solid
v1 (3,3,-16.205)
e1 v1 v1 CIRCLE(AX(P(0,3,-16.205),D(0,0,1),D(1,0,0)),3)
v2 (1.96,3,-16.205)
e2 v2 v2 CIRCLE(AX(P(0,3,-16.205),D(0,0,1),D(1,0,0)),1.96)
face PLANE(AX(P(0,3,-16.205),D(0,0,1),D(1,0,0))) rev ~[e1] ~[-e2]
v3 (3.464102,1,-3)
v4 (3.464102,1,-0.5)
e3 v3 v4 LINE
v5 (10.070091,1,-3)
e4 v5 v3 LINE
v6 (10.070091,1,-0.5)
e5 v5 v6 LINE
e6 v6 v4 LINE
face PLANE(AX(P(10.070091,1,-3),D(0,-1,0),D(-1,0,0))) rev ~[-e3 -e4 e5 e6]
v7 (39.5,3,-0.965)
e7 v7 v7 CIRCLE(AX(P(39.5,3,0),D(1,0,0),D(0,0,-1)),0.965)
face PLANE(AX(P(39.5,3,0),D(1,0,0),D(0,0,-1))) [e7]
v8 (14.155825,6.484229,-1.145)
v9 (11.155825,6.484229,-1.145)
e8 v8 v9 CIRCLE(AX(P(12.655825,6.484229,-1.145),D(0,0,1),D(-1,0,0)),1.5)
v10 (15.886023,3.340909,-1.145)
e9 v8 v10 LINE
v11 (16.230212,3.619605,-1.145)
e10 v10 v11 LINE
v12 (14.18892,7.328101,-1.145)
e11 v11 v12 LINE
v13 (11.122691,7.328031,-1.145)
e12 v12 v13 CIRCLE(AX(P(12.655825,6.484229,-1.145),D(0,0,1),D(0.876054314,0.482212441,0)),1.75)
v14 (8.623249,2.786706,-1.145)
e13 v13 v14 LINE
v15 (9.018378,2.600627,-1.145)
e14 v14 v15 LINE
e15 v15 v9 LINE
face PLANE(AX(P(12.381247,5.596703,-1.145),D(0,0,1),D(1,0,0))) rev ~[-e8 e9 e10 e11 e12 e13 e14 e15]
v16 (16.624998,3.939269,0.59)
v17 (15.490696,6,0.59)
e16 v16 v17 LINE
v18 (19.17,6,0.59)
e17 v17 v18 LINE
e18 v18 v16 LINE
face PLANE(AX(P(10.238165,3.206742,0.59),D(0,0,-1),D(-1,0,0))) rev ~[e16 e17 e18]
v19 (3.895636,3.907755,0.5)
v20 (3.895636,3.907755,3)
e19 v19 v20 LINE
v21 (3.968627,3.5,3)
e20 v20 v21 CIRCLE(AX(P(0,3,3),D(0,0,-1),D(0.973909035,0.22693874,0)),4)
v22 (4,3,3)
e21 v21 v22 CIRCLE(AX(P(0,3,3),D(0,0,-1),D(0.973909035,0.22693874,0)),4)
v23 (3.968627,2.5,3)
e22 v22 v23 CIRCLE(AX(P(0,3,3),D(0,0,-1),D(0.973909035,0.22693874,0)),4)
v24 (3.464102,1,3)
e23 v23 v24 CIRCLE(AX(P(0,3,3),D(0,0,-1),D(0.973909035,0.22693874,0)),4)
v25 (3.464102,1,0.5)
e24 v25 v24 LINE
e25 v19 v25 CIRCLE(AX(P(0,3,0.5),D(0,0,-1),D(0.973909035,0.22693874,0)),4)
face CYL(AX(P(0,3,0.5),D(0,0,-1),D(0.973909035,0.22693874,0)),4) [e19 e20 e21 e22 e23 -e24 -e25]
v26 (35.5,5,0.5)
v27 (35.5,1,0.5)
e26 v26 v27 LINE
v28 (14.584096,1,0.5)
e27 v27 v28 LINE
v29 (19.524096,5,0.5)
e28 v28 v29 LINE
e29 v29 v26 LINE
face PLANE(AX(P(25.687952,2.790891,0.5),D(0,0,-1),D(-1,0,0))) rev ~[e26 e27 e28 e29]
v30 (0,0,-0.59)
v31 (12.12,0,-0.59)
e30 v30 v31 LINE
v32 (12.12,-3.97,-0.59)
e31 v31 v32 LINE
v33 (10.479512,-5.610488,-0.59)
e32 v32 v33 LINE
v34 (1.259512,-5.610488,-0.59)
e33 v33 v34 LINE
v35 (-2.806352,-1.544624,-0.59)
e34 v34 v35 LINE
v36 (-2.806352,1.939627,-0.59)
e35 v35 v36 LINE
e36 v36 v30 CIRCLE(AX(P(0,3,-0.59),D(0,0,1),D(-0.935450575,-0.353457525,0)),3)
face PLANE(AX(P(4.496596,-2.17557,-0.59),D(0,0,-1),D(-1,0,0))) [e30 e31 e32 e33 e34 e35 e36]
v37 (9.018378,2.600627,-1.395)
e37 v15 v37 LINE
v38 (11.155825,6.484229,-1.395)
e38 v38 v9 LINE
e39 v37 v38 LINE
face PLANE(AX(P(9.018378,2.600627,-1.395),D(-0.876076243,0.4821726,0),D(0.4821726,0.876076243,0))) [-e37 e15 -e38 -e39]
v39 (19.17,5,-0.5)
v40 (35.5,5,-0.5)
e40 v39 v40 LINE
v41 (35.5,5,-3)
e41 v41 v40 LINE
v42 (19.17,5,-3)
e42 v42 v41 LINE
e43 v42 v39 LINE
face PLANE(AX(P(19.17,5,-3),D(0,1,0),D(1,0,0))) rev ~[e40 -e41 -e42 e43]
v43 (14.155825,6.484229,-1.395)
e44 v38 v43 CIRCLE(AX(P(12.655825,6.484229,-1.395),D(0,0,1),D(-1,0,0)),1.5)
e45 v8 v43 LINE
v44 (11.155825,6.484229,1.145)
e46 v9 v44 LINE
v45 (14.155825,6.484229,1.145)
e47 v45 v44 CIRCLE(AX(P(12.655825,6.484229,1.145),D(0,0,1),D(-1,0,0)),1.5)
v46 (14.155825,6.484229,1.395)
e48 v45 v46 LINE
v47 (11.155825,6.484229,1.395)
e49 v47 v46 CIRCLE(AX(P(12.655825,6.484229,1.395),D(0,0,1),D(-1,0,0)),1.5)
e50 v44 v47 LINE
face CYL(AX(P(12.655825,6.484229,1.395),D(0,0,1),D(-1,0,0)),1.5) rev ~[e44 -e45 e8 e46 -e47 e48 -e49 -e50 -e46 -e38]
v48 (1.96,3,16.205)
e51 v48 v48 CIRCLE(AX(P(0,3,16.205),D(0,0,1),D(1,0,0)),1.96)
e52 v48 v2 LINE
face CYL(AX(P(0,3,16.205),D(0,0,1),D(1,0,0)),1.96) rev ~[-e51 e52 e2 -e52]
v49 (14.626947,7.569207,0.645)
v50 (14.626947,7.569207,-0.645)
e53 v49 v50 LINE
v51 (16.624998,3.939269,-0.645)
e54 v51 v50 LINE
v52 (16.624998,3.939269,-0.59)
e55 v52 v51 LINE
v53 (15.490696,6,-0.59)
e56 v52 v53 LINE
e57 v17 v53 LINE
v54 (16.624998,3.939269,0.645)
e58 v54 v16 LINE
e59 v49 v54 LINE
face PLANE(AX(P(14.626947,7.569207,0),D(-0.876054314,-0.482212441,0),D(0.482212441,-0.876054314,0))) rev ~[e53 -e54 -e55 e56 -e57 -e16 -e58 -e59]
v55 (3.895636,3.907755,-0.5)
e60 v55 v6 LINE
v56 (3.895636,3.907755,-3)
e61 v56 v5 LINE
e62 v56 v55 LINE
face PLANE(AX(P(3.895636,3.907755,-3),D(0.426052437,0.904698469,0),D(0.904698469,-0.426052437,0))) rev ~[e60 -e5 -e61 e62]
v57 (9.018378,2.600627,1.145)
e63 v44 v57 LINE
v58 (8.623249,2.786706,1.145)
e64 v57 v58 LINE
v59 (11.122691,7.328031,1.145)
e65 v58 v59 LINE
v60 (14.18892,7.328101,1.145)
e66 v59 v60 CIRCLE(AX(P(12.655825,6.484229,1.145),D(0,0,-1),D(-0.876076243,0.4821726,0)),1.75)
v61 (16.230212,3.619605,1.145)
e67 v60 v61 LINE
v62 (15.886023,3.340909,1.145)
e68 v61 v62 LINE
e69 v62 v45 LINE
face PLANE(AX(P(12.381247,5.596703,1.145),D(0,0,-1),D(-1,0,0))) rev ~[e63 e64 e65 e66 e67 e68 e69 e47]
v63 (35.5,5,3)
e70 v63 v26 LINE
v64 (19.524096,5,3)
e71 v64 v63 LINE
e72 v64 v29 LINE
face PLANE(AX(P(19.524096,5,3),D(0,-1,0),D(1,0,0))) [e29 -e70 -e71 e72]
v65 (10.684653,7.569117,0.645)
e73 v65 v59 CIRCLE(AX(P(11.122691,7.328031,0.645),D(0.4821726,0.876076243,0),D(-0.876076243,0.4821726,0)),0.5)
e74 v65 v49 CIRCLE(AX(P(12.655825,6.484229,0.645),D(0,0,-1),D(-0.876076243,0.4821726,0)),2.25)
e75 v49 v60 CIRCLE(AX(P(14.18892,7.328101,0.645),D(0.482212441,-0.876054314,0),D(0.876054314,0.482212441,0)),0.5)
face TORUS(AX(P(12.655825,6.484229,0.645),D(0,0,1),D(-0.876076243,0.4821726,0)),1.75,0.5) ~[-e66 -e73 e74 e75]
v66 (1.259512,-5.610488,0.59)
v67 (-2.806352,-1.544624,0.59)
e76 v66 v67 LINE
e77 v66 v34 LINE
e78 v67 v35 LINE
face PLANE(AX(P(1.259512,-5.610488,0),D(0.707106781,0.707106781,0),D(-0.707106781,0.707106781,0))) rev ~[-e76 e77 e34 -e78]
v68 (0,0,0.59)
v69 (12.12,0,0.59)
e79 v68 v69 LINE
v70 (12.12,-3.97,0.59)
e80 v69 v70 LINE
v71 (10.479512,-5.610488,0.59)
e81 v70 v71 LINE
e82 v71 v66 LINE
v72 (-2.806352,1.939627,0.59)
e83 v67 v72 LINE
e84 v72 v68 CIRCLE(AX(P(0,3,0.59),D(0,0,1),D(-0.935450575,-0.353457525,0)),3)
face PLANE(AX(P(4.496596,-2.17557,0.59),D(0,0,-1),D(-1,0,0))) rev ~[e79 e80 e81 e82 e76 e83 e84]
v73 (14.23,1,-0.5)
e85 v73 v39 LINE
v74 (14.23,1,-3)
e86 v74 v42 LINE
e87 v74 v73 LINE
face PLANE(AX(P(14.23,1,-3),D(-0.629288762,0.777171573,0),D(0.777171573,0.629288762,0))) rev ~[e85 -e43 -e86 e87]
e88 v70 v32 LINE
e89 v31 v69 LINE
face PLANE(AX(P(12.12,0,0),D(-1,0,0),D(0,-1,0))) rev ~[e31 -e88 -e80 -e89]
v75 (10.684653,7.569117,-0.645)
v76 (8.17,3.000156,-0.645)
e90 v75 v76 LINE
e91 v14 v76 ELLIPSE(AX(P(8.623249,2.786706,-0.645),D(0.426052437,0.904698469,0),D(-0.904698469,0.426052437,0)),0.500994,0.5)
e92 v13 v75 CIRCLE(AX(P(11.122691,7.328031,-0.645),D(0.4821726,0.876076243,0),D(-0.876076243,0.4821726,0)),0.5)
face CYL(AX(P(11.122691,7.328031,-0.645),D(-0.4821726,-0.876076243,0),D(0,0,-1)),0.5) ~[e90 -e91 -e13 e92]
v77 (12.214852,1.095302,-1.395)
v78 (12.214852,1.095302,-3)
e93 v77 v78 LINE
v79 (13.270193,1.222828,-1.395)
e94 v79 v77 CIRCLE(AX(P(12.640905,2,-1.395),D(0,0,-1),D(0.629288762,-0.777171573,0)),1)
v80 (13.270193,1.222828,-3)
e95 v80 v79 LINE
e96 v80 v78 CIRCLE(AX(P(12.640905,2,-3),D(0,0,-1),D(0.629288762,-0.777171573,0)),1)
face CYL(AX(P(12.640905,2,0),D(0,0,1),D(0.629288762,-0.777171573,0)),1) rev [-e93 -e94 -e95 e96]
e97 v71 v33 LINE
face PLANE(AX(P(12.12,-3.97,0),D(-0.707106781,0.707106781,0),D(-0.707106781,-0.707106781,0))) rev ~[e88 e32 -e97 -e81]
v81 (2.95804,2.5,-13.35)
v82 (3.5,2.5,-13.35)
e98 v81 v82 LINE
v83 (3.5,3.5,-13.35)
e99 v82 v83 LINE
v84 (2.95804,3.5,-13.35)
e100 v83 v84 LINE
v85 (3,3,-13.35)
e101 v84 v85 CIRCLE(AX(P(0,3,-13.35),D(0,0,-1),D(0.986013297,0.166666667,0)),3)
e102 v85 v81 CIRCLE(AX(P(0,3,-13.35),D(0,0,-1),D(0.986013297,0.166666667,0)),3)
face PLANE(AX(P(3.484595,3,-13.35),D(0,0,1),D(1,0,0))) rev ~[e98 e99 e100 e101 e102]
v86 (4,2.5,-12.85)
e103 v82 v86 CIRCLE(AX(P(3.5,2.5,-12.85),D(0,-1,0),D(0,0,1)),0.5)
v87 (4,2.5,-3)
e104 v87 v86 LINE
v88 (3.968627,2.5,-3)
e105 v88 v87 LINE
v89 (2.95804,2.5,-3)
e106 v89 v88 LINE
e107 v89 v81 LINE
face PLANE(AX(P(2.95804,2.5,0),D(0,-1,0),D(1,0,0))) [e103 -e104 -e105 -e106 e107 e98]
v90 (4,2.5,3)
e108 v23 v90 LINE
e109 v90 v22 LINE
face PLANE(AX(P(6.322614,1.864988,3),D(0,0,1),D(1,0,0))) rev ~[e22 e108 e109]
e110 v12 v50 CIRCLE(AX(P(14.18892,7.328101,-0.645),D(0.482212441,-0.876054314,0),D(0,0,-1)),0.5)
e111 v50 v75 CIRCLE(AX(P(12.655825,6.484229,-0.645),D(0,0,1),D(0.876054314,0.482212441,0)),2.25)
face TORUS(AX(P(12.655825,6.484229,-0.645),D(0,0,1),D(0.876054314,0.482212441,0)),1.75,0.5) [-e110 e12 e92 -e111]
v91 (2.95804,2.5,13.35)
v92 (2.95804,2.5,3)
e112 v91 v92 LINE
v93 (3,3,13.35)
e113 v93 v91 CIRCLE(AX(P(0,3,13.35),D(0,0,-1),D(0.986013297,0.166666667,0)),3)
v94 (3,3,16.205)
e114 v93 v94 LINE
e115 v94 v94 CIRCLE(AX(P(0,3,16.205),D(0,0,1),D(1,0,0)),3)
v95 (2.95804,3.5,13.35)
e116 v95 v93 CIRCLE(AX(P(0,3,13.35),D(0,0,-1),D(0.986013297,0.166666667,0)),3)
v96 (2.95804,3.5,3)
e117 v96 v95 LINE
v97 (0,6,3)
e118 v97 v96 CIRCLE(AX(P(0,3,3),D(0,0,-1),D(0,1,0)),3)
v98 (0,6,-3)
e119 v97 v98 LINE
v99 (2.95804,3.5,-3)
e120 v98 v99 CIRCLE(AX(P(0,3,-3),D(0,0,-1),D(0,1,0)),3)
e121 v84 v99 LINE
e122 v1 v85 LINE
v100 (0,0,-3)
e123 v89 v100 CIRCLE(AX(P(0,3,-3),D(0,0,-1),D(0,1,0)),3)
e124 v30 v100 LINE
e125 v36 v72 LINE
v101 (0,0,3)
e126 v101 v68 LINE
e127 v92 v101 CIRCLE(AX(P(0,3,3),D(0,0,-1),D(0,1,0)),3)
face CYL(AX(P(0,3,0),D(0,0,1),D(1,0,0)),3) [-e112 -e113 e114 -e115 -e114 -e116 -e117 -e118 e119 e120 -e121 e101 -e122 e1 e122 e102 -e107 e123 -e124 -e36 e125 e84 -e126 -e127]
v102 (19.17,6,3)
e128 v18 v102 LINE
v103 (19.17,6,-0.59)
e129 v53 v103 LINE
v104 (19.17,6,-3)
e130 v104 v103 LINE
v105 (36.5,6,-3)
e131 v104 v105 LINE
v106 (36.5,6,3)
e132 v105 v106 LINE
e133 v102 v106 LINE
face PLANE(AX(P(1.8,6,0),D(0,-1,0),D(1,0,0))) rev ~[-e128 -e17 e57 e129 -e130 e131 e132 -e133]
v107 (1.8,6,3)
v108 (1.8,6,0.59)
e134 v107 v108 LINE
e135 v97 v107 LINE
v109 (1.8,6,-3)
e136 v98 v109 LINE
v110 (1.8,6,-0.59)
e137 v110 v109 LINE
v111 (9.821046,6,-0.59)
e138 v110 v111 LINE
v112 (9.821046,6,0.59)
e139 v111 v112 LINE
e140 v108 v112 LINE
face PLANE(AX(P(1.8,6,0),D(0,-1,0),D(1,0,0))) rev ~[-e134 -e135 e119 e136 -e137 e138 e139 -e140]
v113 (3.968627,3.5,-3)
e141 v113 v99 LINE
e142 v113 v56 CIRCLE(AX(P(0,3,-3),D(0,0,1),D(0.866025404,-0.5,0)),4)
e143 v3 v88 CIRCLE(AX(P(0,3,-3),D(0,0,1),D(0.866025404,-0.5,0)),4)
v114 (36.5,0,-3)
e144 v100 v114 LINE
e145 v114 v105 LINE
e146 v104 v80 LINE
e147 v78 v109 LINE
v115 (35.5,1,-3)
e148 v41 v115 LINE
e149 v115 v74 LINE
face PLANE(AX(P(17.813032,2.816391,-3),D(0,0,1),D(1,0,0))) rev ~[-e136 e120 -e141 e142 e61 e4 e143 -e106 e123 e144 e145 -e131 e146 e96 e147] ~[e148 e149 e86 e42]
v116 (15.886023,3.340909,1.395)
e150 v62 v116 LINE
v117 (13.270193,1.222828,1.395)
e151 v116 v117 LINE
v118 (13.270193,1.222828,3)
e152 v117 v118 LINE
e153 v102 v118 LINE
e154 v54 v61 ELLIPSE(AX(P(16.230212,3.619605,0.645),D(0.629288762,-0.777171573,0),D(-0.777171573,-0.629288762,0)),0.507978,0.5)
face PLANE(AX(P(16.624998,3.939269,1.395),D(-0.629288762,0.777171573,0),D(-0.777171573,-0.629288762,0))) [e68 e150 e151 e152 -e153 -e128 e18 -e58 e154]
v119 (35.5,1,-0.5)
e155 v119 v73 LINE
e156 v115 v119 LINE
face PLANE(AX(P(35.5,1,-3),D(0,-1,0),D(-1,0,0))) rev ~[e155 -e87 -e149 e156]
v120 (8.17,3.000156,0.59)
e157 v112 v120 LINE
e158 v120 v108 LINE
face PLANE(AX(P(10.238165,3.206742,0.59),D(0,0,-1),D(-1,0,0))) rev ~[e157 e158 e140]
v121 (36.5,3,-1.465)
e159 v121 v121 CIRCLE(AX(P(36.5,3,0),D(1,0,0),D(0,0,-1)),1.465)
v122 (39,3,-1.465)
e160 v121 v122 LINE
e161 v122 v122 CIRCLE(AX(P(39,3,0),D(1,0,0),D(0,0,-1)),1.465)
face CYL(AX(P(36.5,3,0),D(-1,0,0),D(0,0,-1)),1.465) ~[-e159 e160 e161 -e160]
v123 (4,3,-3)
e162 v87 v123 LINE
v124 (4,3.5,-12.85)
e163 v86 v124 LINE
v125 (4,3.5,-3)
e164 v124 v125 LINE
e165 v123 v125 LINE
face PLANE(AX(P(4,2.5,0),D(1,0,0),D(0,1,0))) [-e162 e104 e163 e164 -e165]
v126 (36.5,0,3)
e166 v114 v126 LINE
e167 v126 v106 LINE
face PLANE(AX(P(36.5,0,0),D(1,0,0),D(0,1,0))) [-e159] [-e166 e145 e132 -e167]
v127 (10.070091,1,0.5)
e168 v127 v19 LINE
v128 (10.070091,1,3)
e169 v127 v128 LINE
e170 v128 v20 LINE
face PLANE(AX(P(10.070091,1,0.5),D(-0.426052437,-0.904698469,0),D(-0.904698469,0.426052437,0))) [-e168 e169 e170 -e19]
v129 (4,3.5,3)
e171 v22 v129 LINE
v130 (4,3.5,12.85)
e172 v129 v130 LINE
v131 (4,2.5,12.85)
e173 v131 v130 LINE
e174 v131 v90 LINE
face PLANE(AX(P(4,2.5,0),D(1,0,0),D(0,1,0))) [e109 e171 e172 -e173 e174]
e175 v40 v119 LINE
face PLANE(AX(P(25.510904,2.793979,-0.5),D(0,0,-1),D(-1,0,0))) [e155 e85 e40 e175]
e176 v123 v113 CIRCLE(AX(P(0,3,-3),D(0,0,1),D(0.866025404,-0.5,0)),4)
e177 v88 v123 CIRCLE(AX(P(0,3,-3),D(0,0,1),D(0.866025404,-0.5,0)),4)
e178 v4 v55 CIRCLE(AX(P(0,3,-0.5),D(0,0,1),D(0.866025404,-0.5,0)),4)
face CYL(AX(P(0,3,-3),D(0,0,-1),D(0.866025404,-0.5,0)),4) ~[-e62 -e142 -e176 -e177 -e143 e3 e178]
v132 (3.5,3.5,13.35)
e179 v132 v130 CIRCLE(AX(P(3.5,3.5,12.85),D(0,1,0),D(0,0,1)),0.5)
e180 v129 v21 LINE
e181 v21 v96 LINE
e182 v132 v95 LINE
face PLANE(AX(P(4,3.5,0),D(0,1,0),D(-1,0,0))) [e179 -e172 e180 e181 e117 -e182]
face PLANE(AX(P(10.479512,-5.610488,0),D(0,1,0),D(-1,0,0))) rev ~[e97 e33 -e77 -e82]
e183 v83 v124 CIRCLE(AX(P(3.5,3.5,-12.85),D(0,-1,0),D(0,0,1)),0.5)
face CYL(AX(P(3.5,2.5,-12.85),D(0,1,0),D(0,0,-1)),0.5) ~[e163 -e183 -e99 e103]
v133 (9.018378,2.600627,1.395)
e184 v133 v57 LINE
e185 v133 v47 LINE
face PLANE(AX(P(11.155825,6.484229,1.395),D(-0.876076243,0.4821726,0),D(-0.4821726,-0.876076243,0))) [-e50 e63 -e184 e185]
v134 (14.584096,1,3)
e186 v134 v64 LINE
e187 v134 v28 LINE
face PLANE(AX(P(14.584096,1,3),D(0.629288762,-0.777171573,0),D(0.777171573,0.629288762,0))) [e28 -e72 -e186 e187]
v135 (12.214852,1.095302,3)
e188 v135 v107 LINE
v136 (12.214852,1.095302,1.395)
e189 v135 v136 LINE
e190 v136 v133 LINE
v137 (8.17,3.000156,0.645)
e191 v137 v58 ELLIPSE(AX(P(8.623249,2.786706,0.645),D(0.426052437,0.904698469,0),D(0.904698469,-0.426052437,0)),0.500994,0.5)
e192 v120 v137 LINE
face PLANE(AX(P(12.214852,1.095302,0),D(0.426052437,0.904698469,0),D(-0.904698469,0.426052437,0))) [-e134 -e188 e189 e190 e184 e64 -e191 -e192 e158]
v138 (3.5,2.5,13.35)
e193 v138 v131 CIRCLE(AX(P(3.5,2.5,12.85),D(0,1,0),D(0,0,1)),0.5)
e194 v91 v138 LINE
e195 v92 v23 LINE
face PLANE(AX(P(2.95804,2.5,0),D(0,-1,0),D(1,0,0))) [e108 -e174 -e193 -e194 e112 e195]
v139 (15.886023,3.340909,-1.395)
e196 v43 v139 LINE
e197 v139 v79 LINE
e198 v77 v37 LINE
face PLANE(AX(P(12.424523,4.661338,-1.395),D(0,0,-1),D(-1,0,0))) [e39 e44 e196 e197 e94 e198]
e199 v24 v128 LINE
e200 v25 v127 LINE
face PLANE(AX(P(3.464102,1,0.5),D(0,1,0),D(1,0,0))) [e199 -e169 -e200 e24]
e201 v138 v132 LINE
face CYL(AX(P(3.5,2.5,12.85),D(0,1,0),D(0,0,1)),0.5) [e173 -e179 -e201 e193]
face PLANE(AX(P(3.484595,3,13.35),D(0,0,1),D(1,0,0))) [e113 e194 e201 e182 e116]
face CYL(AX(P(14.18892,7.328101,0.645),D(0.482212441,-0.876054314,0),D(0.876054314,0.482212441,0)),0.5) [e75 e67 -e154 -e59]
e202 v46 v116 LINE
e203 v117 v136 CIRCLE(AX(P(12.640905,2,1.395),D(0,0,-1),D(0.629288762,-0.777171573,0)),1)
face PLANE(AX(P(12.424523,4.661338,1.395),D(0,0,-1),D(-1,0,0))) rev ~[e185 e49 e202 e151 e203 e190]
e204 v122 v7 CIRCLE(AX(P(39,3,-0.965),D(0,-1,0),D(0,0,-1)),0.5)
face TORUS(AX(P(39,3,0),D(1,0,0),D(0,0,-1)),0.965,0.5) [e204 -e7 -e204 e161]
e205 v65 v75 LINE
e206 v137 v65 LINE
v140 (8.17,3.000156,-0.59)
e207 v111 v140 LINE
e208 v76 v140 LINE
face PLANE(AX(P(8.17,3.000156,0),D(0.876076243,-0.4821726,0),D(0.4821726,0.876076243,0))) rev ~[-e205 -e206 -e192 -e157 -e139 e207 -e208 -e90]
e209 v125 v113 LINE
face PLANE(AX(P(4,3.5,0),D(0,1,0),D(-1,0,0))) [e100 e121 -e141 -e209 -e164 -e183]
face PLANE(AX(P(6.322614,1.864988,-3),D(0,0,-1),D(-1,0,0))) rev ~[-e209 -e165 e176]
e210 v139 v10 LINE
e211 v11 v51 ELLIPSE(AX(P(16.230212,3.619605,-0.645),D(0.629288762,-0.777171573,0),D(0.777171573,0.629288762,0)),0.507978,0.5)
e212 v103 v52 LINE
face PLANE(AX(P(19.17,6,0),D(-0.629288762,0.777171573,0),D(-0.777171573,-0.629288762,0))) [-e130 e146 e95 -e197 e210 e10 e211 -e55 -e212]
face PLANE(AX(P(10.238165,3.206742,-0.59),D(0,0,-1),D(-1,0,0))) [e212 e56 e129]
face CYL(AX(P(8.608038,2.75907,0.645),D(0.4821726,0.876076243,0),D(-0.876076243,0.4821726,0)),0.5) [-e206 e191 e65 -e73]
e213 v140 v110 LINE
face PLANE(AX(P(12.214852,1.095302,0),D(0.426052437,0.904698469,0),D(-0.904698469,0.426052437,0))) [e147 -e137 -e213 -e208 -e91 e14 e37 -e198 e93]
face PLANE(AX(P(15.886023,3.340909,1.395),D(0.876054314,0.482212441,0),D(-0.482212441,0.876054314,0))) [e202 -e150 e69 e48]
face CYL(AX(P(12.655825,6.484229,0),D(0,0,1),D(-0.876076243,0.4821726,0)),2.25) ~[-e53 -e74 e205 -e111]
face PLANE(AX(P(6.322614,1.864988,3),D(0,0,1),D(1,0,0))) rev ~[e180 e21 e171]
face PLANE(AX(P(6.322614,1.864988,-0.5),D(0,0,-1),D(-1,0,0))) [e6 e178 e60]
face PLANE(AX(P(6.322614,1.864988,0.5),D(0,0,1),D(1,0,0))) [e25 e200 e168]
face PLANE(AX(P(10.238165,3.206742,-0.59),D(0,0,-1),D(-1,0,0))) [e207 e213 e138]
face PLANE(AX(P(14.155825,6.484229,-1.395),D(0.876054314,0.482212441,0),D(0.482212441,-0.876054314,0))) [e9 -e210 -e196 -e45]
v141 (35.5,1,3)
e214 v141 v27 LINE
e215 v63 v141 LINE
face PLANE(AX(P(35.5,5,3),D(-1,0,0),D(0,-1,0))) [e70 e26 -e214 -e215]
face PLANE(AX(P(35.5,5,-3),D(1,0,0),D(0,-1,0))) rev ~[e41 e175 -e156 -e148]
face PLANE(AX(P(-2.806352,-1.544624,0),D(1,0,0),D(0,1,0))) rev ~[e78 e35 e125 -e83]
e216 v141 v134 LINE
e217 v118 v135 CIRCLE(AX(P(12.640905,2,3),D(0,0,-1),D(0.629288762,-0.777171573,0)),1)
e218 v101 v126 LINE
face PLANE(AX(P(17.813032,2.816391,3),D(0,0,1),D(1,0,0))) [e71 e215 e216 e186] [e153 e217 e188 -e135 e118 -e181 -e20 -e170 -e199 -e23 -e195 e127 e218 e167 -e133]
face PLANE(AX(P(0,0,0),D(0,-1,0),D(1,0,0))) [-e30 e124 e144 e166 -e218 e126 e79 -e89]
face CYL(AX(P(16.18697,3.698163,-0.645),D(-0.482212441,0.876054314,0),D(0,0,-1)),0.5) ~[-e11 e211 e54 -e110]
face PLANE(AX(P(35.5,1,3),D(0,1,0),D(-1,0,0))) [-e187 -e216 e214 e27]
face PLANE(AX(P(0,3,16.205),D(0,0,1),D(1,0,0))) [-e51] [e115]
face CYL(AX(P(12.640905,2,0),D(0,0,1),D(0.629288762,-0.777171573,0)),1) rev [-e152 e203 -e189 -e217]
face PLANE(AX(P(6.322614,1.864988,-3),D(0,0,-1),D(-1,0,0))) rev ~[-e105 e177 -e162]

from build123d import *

# Parameters (mm, degrees)
BOSS_EXTRUDE3_DEPTH  = 3
SKETCH2_R            = 2.9999999999999982
BOSS_EXTRUDE4_DEPTH  = 16.205
SKETCH5_R            = 1.96
CUT_EXTRUDE2_DEPTH   = 32.80000000000002
SKETCH6_R            = 1.465
BOSS_EXTRUDE7_DEPTH  = 3
FILLET1_R            = 0.5
BOSS_EXTRUDE8_DEPTH  = 0.59
BOSS_EXTRUDE9_DEPTH  = 13.35
FILLET7_R            = 0.5
FILLET8_R            = 0.5
BOSS_EXTRUDE10_DEPTH = 3
CUT_EXTRUDE4_DEPTH   = 3
BOSS_EXTRUDE11_DEPTH = 0.59
BOSS_EXTRUDE12_DEPTH = 1.395
CUT_EXTRUDE6_DEPTH   = 20.895000000000014
CUT_EXTRUDE7_DEPTH   = 0.25
CUT_EXTRUDE8_DEPTH   = 0.25
FILLET9_R            = 0.5
FILLET10_R           = 0.5
CUT_EXTRUDE9_DEPTH   = 2.5
CUT_EXTRUDE10_DEPTH  = 2.5
CUT_EXTRUDE12_DEPTH  = 2.5
CUT_EXTRUDE14_START  = -2.5
CUT_EXTRUDE14_DEPTH  = 2.5


with BuildPart() as part:
    # Sketch1 → Boss-Extrude3 (new, symmetric)
    with BuildSketch(Plane.XY):
        with BuildLine():
            ThreePointArc((2.9999999999999982, 2.9999999999999973), (2.1213203435596406, 0.8786796564403563), (-5.5e-16, 0))
            Line((0, 0), (36.5, 0))
            Line((36.5, 0), (36.5, 6))
            Line((36.5, 6), (20.749999999999996, 5.999999999999999))
            ThreePointArc((20.749999999999996, 5.999999999999999), (20.435386233554034, 4.445031090493969), (19.54103584523481, 3.134669493650969))
            ThreePointArc((19.54103584523481, 3.1346694936509705), (17.593985916344508, 2.2872332130112563), (15.573673818645423, 2.9410609450836516))
            Line((15.573673818645423, 2.9410609450836516), (11.749999999999998, 5.9999999999999964))
            Line((11.749999999999998, 5.9999999999999964), (0, 5.9999999999999964))
            ThreePointArc((1.8e-16, 5.9999999999999964), (2.1213203435596415, 5.121320343559639), (2.9999999999999982, 2.9999999999999982))
        make_face()
    extrude(amount=BOSS_EXTRUDE3_DEPTH, both=True)

    # Sketch2 → Boss-Extrude4 (add, symmetric)
    with BuildSketch(Plane.XY):
        with Locations((0, 2.9999999999999982)):
            Circle(SKETCH2_R)
    extrude(amount=BOSS_EXTRUDE4_DEPTH, both=True)

    # Sketch5 → Cut-Extrude2 (cut)
    with BuildSketch(Plane.XY.offset(16.205)):
        with Locations((0, 2.9999999999999982)):
            Circle(SKETCH5_R)
    extrude(amount=-CUT_EXTRUDE2_DEPTH, mode=Mode.SUBTRACT)

    # Sketch6 → Boss-Extrude7 (add)
    with BuildSketch(Plane(origin=(36.5, 0, 0), x_dir=(0, 0, -1), z_dir=(1, 0, 0))):
        with Locations((0, 2.999999999999999)):
            Circle(SKETCH6_R)
    extrude(amount=BOSS_EXTRUDE7_DEPTH)

    # Fillet1
    fillet1_edges = [part.edges().sort_by_distance(p)[0] for p in [
        (39.5, 2.9999999999999987, 1.465),
    ]]
    fillet(fillet1_edges, radius=FILLET1_R)

    # Sketch12 → Boss-Extrude8 (add, symmetric)
    with BuildSketch(Plane.XY):
        with BuildLine():
            Line((12.12, -2.99e-15), (12.12, -3.970000000000003))
            Line((12.12, -3.970000000000003), (10.479512267647207, -5.6104877323527935))
            Line((10.479512267647207, -5.6104877323527935), (1.2595122676472073, -5.610487732352795))
            Line((1.2595122676472073, -5.610487732352795), (-2.8063517241754403, -1.5446237405301462))
            Line((-2.8063517241754403, -1.5446237405301462), (-2.8063517241754403, 1.939627423865778))
            ThreePointArc((-2.8063517241754403, 1.939627423865778), (-1.7057083970593148, 0.5320942351456543), (0, 0))
            Line((0, 0), (12.12, -2.99e-15))
        make_face()
    extrude(amount=BOSS_EXTRUDE8_DEPTH, both=True)

    # Sketch14 → Boss-Extrude9 (add, symmetric)
    with BuildSketch(Plane.XY):
        with BuildLine():
            Line((3.9999999999999982, 2.4999999999999982), (3.9999999999999982, 3.4999999999999982))
            Line((3.9999999999999982, 3.4999999999999982), (2.9580398915498067, 3.4999999999999982))
            ThreePointArc((2.9580398915498067, 3.4999999999999982), (2.999999999999999, 2.9999999999999982), (2.9580398915498067, 2.4999999999999982))
            Line((2.9580398915498067, 2.4999999999999982), (3.9999999999999982, 2.4999999999999982))
        make_face()
    extrude(amount=BOSS_EXTRUDE9_DEPTH, both=True)

    # Fillet7
    fillet7_edges = [part.edges().sort_by_distance(p)[0] for p in [
        (3.9999999999999982, 2.9999999999999982, 13.35),
    ]]
    fillet(fillet7_edges, radius=FILLET7_R)

    # Fillet8
    fillet8_edges = [part.edges().sort_by_distance(p)[0] for p in [
        (3.9999999999999982, 2.9999999999999982, -13.35),
    ]]
    fillet(fillet8_edges, radius=FILLET8_R)

    # Sketch15 → Boss-Extrude10 (add, symmetric)
    with BuildSketch(Plane.XY):
        Polygon((5.875, 5.9999999999999964), (27.07720850874597, 5.999999999999999), (27.07720850874597, 1.48970114733157), (5.875, 1.48970114733157), align=None)
    extrude(amount=BOSS_EXTRUDE10_DEPTH, both=True)

    # Sketch16 → Cut-Extrude4 (cut, symmetric)
    with BuildSketch(Plane.XY):
        with BuildLine():
            ThreePointArc((13.27019347571673, 1.2228284271177183), (12.760871493283885, 1.00722209344764), (12.214852275986694, 1.0953015306060352))
            Line((12.214852275986694, 1.0953015306060352), (1.8, 6))
            Line((1.8, 6), (19.169999999999998, 6.000000000000002))
            Line((19.169999999999998, 6.000000000000002), (13.27019347571673, 1.2228284271177183))
        make_face()
    extrude(amount=CUT_EXTRUDE4_DEPTH, both=True, mode=Mode.SUBTRACT)

    # Sketch17 → Boss-Extrude11 (add, symmetric)
    with BuildSketch(Plane.XY):
        Polygon((1.8, 6), (19.169999999999998, 5.999999999999999), (19.169999999999998, 0.49690997030879536), (1.8, 0.49690997030879536), (4.890483943976141, 2.396162656787146), align=None)
    extrude(amount=BOSS_EXTRUDE11_DEPTH, both=True)

    # Sketch19 → Boss-Extrude12 (add, symmetric)
    with BuildSketch(Plane.XY):
        with BuildLine():
            Line((8.17, 3.000156274700533), (10.684653005804094, 7.569117176028711))
            ThreePointArc((10.684653005804094, 7.569117176028711), (12.655773390851454, 8.734228825048191), (14.626946759842125, 7.569206818212221))
            Line((14.626946759842125, 7.569206818212221), (15.490695774172368, 5.999999999999999))
            Line((15.490695774172368, 5.999999999999999), (16.624997623308392, 3.9392692019970994))
            Line((16.624997623308392, 3.9392692019970994), (13.27019347571673, 1.2228284271177192))
            ThreePointArc((13.27019347571673, 1.2228284271177192), (12.760871493283883, 1.0072220934476446), (12.21485227598669, 1.0953015306060374))
            Line((12.21485227598669, 1.0953015306060374), (8.17, 3.000156274700533))
        make_face()
    extrude(amount=BOSS_EXTRUDE12_DEPTH, both=True)

    # Sketch20 → Cut-Extrude6 (cut, symmetric)
    with BuildSketch(Plane.XY.offset(1.395)):
        with BuildLine():
            ThreePointArc((14.155824552668768, 6.484228825629862), (12.655824552668768, 7.984228825629863), (11.155824552668768, 6.484228825629862))
            ThreePointArc((11.15582455266877, 6.484228825629865), (12.655824552668765, 4.984228825629861), (14.155824552668767, 6.484228825629859))
        make_face()
    extrude(amount=CUT_EXTRUDE6_DEPTH, both=True, mode=Mode.SUBTRACT)

    # Sketch21 → Cut-Extrude7 (cut, symmetric)
    with BuildSketch(Plane.XY.offset(1.395)):
        with BuildLine():
            Line((11.155824552668768, 6.484228825629862), (9.018377782257767, 2.60062711193924))
            Line((9.018377782257767, 2.60062711193924), (8.17, 3.000156274700535))
            Line((8.17, 3.000156274700535), (10.684653005804092, 7.569117176028711))
            ThreePointArc((10.684653005804092, 7.569117176028711), (12.655773390851452, 8.734228825048183), (14.626946759842125, 7.569206818212221))
            Line((14.626946759842125, 7.569206818212221), (16.62499762330839, 3.9392692019970985))
            Line((16.62499762330839, 3.9392692019970985), (15.886023032964967, 3.3409091724705715))
            Line((15.886023032964967, 3.3409091724705715), (14.155824552668767, 6.484228825629862))
            ThreePointArc((14.155824552668767, 6.484228825629862), (12.655824552668768, 4.984228825629862), (11.155824552668768, 6.484228825629862))
        make_face()
    extrude(amount=CUT_EXTRUDE7_DEPTH, both=True, mode=Mode.SUBTRACT)

    # Sketch22 → Cut-Extrude8 (cut, symmetric)
    with BuildSketch(Plane(origin=(0, 0, -1.395), x_dir=(-1, 0, 0), z_dir=(0, 0, -1))):
        with BuildLine():
            Line((-14.155824552668767, 6.484228825629862), (-15.886023032964967, 3.340909172470571))
            Line((-15.886023032964967, 3.340909172470571), (-16.624997623308392, 3.9392692019971034))
            Line((-16.624997623308392, 3.9392692019971034), (-14.626946759842125, 7.569206818212221))
            ThreePointArc((-14.626946759842125, 7.569206818212221), (-12.655773390851454, 8.73422882504819), (-10.684653005804092, 7.569117176028711))
            Line((-10.684653005804092, 7.569117176028711), (-8.17, 3.000156274700535))
            Line((-8.17, 3.000156274700535), (-9.018377782257769, 2.600627111939241))
            Line((-9.018377782257769, 2.600627111939241), (-11.155824552668768, 6.484228825629862))
            ThreePointArc((-11.155824552668768, 6.484228825629862), (-12.655824552668768, 4.984228825629864), (-14.155824552668767, 6.484228825629862))
        make_face()
    extrude(amount=CUT_EXTRUDE8_DEPTH, both=True, mode=Mode.SUBTRACT)

    # Fillet9
    fillet9_edges = [part.edges().sort_by_distance(p)[0] for p in [
        (15.625972191575258, 5.754238010104662, -1.145),
        (12.655773390851452, 8.73422882504819, -1.145),
        (9.427326502902046, 5.2846367253646225, -1.145),
    ]]
    fillet(fillet9_edges, radius=FILLET9_R)

    # Fillet10
    fillet10_edges = [part.edges().sort_by_distance(p)[0] for p in [
        (9.427326502902046, 5.2846367253646225, 1.145),
        (12.655773390851452, 8.734228825048183, 1.145),
        (15.625972191575258, 5.754238010104659, 1.145),
    ]]
    fillet(fillet10_edges, radius=FILLET10_R)

    # Sketch23 → Cut-Extrude9 (cut)
    with BuildSketch(Plane(origin=(0, 0, -3), x_dir=(-1, 0, 0), z_dir=(0, 0, -1))):
        Polygon((-35.5, 5), (-35.5, 1), (-14.230000308321648, 1), (-19.169999999999998, 5), align=None)
    extrude(amount=-CUT_EXTRUDE9_DEPTH, mode=Mode.SUBTRACT)

    # Sketch24 → Cut-Extrude10 (cut)
    with BuildSketch(Plane(origin=(0, 0, -3), x_dir=(-1, 0, 0), z_dir=(0, 0, -1))):
        with BuildLine():
            Line((-10.07009080824153, 1), (-3.4641016151377535, 1))
            ThreePointArc((-3.4641016151377535, 1), (-3.9566645904895195, 2.412798741174382), (-3.895636139676663, 3.9077549599121406))
            Line((-3.895636139676663, 3.9077549599121406), (-10.07009080824153, 1))
        make_face()
    extrude(amount=-CUT_EXTRUDE10_DEPTH, mode=Mode.SUBTRACT)

    # Sketch25 → Cut-Extrude12 (cut)
    with BuildSketch(Plane.XY.offset(3)):
        Polygon((19.524095671942906, 5), (35.5, 5), (35.5, 1), (14.584095980264548, 0.9999999999999983), align=None)
    extrude(amount=-CUT_EXTRUDE12_DEPTH, mode=Mode.SUBTRACT)

    # Sketch26 → Cut-Extrude14 (cut)
    with BuildSketch(Plane.XY.offset(3).offset(CUT_EXTRUDE14_START)):
        with BuildLine():
            Line((3.4641016151377535, 1), (10.070090808241538, 1))
            Line((10.070090808241538, 1), (3.8956361396766637, 3.9077549599121406))
            ThreePointArc((3.8956361396766637, 3.9077549599121406), (3.956664590489521, 2.4127987411743836), (3.4641016151377535, 1))
        make_face()
    extrude(amount=CUT_EXTRUDE14_DEPTH, mode=Mode.SUBTRACT)


solid = part.part
